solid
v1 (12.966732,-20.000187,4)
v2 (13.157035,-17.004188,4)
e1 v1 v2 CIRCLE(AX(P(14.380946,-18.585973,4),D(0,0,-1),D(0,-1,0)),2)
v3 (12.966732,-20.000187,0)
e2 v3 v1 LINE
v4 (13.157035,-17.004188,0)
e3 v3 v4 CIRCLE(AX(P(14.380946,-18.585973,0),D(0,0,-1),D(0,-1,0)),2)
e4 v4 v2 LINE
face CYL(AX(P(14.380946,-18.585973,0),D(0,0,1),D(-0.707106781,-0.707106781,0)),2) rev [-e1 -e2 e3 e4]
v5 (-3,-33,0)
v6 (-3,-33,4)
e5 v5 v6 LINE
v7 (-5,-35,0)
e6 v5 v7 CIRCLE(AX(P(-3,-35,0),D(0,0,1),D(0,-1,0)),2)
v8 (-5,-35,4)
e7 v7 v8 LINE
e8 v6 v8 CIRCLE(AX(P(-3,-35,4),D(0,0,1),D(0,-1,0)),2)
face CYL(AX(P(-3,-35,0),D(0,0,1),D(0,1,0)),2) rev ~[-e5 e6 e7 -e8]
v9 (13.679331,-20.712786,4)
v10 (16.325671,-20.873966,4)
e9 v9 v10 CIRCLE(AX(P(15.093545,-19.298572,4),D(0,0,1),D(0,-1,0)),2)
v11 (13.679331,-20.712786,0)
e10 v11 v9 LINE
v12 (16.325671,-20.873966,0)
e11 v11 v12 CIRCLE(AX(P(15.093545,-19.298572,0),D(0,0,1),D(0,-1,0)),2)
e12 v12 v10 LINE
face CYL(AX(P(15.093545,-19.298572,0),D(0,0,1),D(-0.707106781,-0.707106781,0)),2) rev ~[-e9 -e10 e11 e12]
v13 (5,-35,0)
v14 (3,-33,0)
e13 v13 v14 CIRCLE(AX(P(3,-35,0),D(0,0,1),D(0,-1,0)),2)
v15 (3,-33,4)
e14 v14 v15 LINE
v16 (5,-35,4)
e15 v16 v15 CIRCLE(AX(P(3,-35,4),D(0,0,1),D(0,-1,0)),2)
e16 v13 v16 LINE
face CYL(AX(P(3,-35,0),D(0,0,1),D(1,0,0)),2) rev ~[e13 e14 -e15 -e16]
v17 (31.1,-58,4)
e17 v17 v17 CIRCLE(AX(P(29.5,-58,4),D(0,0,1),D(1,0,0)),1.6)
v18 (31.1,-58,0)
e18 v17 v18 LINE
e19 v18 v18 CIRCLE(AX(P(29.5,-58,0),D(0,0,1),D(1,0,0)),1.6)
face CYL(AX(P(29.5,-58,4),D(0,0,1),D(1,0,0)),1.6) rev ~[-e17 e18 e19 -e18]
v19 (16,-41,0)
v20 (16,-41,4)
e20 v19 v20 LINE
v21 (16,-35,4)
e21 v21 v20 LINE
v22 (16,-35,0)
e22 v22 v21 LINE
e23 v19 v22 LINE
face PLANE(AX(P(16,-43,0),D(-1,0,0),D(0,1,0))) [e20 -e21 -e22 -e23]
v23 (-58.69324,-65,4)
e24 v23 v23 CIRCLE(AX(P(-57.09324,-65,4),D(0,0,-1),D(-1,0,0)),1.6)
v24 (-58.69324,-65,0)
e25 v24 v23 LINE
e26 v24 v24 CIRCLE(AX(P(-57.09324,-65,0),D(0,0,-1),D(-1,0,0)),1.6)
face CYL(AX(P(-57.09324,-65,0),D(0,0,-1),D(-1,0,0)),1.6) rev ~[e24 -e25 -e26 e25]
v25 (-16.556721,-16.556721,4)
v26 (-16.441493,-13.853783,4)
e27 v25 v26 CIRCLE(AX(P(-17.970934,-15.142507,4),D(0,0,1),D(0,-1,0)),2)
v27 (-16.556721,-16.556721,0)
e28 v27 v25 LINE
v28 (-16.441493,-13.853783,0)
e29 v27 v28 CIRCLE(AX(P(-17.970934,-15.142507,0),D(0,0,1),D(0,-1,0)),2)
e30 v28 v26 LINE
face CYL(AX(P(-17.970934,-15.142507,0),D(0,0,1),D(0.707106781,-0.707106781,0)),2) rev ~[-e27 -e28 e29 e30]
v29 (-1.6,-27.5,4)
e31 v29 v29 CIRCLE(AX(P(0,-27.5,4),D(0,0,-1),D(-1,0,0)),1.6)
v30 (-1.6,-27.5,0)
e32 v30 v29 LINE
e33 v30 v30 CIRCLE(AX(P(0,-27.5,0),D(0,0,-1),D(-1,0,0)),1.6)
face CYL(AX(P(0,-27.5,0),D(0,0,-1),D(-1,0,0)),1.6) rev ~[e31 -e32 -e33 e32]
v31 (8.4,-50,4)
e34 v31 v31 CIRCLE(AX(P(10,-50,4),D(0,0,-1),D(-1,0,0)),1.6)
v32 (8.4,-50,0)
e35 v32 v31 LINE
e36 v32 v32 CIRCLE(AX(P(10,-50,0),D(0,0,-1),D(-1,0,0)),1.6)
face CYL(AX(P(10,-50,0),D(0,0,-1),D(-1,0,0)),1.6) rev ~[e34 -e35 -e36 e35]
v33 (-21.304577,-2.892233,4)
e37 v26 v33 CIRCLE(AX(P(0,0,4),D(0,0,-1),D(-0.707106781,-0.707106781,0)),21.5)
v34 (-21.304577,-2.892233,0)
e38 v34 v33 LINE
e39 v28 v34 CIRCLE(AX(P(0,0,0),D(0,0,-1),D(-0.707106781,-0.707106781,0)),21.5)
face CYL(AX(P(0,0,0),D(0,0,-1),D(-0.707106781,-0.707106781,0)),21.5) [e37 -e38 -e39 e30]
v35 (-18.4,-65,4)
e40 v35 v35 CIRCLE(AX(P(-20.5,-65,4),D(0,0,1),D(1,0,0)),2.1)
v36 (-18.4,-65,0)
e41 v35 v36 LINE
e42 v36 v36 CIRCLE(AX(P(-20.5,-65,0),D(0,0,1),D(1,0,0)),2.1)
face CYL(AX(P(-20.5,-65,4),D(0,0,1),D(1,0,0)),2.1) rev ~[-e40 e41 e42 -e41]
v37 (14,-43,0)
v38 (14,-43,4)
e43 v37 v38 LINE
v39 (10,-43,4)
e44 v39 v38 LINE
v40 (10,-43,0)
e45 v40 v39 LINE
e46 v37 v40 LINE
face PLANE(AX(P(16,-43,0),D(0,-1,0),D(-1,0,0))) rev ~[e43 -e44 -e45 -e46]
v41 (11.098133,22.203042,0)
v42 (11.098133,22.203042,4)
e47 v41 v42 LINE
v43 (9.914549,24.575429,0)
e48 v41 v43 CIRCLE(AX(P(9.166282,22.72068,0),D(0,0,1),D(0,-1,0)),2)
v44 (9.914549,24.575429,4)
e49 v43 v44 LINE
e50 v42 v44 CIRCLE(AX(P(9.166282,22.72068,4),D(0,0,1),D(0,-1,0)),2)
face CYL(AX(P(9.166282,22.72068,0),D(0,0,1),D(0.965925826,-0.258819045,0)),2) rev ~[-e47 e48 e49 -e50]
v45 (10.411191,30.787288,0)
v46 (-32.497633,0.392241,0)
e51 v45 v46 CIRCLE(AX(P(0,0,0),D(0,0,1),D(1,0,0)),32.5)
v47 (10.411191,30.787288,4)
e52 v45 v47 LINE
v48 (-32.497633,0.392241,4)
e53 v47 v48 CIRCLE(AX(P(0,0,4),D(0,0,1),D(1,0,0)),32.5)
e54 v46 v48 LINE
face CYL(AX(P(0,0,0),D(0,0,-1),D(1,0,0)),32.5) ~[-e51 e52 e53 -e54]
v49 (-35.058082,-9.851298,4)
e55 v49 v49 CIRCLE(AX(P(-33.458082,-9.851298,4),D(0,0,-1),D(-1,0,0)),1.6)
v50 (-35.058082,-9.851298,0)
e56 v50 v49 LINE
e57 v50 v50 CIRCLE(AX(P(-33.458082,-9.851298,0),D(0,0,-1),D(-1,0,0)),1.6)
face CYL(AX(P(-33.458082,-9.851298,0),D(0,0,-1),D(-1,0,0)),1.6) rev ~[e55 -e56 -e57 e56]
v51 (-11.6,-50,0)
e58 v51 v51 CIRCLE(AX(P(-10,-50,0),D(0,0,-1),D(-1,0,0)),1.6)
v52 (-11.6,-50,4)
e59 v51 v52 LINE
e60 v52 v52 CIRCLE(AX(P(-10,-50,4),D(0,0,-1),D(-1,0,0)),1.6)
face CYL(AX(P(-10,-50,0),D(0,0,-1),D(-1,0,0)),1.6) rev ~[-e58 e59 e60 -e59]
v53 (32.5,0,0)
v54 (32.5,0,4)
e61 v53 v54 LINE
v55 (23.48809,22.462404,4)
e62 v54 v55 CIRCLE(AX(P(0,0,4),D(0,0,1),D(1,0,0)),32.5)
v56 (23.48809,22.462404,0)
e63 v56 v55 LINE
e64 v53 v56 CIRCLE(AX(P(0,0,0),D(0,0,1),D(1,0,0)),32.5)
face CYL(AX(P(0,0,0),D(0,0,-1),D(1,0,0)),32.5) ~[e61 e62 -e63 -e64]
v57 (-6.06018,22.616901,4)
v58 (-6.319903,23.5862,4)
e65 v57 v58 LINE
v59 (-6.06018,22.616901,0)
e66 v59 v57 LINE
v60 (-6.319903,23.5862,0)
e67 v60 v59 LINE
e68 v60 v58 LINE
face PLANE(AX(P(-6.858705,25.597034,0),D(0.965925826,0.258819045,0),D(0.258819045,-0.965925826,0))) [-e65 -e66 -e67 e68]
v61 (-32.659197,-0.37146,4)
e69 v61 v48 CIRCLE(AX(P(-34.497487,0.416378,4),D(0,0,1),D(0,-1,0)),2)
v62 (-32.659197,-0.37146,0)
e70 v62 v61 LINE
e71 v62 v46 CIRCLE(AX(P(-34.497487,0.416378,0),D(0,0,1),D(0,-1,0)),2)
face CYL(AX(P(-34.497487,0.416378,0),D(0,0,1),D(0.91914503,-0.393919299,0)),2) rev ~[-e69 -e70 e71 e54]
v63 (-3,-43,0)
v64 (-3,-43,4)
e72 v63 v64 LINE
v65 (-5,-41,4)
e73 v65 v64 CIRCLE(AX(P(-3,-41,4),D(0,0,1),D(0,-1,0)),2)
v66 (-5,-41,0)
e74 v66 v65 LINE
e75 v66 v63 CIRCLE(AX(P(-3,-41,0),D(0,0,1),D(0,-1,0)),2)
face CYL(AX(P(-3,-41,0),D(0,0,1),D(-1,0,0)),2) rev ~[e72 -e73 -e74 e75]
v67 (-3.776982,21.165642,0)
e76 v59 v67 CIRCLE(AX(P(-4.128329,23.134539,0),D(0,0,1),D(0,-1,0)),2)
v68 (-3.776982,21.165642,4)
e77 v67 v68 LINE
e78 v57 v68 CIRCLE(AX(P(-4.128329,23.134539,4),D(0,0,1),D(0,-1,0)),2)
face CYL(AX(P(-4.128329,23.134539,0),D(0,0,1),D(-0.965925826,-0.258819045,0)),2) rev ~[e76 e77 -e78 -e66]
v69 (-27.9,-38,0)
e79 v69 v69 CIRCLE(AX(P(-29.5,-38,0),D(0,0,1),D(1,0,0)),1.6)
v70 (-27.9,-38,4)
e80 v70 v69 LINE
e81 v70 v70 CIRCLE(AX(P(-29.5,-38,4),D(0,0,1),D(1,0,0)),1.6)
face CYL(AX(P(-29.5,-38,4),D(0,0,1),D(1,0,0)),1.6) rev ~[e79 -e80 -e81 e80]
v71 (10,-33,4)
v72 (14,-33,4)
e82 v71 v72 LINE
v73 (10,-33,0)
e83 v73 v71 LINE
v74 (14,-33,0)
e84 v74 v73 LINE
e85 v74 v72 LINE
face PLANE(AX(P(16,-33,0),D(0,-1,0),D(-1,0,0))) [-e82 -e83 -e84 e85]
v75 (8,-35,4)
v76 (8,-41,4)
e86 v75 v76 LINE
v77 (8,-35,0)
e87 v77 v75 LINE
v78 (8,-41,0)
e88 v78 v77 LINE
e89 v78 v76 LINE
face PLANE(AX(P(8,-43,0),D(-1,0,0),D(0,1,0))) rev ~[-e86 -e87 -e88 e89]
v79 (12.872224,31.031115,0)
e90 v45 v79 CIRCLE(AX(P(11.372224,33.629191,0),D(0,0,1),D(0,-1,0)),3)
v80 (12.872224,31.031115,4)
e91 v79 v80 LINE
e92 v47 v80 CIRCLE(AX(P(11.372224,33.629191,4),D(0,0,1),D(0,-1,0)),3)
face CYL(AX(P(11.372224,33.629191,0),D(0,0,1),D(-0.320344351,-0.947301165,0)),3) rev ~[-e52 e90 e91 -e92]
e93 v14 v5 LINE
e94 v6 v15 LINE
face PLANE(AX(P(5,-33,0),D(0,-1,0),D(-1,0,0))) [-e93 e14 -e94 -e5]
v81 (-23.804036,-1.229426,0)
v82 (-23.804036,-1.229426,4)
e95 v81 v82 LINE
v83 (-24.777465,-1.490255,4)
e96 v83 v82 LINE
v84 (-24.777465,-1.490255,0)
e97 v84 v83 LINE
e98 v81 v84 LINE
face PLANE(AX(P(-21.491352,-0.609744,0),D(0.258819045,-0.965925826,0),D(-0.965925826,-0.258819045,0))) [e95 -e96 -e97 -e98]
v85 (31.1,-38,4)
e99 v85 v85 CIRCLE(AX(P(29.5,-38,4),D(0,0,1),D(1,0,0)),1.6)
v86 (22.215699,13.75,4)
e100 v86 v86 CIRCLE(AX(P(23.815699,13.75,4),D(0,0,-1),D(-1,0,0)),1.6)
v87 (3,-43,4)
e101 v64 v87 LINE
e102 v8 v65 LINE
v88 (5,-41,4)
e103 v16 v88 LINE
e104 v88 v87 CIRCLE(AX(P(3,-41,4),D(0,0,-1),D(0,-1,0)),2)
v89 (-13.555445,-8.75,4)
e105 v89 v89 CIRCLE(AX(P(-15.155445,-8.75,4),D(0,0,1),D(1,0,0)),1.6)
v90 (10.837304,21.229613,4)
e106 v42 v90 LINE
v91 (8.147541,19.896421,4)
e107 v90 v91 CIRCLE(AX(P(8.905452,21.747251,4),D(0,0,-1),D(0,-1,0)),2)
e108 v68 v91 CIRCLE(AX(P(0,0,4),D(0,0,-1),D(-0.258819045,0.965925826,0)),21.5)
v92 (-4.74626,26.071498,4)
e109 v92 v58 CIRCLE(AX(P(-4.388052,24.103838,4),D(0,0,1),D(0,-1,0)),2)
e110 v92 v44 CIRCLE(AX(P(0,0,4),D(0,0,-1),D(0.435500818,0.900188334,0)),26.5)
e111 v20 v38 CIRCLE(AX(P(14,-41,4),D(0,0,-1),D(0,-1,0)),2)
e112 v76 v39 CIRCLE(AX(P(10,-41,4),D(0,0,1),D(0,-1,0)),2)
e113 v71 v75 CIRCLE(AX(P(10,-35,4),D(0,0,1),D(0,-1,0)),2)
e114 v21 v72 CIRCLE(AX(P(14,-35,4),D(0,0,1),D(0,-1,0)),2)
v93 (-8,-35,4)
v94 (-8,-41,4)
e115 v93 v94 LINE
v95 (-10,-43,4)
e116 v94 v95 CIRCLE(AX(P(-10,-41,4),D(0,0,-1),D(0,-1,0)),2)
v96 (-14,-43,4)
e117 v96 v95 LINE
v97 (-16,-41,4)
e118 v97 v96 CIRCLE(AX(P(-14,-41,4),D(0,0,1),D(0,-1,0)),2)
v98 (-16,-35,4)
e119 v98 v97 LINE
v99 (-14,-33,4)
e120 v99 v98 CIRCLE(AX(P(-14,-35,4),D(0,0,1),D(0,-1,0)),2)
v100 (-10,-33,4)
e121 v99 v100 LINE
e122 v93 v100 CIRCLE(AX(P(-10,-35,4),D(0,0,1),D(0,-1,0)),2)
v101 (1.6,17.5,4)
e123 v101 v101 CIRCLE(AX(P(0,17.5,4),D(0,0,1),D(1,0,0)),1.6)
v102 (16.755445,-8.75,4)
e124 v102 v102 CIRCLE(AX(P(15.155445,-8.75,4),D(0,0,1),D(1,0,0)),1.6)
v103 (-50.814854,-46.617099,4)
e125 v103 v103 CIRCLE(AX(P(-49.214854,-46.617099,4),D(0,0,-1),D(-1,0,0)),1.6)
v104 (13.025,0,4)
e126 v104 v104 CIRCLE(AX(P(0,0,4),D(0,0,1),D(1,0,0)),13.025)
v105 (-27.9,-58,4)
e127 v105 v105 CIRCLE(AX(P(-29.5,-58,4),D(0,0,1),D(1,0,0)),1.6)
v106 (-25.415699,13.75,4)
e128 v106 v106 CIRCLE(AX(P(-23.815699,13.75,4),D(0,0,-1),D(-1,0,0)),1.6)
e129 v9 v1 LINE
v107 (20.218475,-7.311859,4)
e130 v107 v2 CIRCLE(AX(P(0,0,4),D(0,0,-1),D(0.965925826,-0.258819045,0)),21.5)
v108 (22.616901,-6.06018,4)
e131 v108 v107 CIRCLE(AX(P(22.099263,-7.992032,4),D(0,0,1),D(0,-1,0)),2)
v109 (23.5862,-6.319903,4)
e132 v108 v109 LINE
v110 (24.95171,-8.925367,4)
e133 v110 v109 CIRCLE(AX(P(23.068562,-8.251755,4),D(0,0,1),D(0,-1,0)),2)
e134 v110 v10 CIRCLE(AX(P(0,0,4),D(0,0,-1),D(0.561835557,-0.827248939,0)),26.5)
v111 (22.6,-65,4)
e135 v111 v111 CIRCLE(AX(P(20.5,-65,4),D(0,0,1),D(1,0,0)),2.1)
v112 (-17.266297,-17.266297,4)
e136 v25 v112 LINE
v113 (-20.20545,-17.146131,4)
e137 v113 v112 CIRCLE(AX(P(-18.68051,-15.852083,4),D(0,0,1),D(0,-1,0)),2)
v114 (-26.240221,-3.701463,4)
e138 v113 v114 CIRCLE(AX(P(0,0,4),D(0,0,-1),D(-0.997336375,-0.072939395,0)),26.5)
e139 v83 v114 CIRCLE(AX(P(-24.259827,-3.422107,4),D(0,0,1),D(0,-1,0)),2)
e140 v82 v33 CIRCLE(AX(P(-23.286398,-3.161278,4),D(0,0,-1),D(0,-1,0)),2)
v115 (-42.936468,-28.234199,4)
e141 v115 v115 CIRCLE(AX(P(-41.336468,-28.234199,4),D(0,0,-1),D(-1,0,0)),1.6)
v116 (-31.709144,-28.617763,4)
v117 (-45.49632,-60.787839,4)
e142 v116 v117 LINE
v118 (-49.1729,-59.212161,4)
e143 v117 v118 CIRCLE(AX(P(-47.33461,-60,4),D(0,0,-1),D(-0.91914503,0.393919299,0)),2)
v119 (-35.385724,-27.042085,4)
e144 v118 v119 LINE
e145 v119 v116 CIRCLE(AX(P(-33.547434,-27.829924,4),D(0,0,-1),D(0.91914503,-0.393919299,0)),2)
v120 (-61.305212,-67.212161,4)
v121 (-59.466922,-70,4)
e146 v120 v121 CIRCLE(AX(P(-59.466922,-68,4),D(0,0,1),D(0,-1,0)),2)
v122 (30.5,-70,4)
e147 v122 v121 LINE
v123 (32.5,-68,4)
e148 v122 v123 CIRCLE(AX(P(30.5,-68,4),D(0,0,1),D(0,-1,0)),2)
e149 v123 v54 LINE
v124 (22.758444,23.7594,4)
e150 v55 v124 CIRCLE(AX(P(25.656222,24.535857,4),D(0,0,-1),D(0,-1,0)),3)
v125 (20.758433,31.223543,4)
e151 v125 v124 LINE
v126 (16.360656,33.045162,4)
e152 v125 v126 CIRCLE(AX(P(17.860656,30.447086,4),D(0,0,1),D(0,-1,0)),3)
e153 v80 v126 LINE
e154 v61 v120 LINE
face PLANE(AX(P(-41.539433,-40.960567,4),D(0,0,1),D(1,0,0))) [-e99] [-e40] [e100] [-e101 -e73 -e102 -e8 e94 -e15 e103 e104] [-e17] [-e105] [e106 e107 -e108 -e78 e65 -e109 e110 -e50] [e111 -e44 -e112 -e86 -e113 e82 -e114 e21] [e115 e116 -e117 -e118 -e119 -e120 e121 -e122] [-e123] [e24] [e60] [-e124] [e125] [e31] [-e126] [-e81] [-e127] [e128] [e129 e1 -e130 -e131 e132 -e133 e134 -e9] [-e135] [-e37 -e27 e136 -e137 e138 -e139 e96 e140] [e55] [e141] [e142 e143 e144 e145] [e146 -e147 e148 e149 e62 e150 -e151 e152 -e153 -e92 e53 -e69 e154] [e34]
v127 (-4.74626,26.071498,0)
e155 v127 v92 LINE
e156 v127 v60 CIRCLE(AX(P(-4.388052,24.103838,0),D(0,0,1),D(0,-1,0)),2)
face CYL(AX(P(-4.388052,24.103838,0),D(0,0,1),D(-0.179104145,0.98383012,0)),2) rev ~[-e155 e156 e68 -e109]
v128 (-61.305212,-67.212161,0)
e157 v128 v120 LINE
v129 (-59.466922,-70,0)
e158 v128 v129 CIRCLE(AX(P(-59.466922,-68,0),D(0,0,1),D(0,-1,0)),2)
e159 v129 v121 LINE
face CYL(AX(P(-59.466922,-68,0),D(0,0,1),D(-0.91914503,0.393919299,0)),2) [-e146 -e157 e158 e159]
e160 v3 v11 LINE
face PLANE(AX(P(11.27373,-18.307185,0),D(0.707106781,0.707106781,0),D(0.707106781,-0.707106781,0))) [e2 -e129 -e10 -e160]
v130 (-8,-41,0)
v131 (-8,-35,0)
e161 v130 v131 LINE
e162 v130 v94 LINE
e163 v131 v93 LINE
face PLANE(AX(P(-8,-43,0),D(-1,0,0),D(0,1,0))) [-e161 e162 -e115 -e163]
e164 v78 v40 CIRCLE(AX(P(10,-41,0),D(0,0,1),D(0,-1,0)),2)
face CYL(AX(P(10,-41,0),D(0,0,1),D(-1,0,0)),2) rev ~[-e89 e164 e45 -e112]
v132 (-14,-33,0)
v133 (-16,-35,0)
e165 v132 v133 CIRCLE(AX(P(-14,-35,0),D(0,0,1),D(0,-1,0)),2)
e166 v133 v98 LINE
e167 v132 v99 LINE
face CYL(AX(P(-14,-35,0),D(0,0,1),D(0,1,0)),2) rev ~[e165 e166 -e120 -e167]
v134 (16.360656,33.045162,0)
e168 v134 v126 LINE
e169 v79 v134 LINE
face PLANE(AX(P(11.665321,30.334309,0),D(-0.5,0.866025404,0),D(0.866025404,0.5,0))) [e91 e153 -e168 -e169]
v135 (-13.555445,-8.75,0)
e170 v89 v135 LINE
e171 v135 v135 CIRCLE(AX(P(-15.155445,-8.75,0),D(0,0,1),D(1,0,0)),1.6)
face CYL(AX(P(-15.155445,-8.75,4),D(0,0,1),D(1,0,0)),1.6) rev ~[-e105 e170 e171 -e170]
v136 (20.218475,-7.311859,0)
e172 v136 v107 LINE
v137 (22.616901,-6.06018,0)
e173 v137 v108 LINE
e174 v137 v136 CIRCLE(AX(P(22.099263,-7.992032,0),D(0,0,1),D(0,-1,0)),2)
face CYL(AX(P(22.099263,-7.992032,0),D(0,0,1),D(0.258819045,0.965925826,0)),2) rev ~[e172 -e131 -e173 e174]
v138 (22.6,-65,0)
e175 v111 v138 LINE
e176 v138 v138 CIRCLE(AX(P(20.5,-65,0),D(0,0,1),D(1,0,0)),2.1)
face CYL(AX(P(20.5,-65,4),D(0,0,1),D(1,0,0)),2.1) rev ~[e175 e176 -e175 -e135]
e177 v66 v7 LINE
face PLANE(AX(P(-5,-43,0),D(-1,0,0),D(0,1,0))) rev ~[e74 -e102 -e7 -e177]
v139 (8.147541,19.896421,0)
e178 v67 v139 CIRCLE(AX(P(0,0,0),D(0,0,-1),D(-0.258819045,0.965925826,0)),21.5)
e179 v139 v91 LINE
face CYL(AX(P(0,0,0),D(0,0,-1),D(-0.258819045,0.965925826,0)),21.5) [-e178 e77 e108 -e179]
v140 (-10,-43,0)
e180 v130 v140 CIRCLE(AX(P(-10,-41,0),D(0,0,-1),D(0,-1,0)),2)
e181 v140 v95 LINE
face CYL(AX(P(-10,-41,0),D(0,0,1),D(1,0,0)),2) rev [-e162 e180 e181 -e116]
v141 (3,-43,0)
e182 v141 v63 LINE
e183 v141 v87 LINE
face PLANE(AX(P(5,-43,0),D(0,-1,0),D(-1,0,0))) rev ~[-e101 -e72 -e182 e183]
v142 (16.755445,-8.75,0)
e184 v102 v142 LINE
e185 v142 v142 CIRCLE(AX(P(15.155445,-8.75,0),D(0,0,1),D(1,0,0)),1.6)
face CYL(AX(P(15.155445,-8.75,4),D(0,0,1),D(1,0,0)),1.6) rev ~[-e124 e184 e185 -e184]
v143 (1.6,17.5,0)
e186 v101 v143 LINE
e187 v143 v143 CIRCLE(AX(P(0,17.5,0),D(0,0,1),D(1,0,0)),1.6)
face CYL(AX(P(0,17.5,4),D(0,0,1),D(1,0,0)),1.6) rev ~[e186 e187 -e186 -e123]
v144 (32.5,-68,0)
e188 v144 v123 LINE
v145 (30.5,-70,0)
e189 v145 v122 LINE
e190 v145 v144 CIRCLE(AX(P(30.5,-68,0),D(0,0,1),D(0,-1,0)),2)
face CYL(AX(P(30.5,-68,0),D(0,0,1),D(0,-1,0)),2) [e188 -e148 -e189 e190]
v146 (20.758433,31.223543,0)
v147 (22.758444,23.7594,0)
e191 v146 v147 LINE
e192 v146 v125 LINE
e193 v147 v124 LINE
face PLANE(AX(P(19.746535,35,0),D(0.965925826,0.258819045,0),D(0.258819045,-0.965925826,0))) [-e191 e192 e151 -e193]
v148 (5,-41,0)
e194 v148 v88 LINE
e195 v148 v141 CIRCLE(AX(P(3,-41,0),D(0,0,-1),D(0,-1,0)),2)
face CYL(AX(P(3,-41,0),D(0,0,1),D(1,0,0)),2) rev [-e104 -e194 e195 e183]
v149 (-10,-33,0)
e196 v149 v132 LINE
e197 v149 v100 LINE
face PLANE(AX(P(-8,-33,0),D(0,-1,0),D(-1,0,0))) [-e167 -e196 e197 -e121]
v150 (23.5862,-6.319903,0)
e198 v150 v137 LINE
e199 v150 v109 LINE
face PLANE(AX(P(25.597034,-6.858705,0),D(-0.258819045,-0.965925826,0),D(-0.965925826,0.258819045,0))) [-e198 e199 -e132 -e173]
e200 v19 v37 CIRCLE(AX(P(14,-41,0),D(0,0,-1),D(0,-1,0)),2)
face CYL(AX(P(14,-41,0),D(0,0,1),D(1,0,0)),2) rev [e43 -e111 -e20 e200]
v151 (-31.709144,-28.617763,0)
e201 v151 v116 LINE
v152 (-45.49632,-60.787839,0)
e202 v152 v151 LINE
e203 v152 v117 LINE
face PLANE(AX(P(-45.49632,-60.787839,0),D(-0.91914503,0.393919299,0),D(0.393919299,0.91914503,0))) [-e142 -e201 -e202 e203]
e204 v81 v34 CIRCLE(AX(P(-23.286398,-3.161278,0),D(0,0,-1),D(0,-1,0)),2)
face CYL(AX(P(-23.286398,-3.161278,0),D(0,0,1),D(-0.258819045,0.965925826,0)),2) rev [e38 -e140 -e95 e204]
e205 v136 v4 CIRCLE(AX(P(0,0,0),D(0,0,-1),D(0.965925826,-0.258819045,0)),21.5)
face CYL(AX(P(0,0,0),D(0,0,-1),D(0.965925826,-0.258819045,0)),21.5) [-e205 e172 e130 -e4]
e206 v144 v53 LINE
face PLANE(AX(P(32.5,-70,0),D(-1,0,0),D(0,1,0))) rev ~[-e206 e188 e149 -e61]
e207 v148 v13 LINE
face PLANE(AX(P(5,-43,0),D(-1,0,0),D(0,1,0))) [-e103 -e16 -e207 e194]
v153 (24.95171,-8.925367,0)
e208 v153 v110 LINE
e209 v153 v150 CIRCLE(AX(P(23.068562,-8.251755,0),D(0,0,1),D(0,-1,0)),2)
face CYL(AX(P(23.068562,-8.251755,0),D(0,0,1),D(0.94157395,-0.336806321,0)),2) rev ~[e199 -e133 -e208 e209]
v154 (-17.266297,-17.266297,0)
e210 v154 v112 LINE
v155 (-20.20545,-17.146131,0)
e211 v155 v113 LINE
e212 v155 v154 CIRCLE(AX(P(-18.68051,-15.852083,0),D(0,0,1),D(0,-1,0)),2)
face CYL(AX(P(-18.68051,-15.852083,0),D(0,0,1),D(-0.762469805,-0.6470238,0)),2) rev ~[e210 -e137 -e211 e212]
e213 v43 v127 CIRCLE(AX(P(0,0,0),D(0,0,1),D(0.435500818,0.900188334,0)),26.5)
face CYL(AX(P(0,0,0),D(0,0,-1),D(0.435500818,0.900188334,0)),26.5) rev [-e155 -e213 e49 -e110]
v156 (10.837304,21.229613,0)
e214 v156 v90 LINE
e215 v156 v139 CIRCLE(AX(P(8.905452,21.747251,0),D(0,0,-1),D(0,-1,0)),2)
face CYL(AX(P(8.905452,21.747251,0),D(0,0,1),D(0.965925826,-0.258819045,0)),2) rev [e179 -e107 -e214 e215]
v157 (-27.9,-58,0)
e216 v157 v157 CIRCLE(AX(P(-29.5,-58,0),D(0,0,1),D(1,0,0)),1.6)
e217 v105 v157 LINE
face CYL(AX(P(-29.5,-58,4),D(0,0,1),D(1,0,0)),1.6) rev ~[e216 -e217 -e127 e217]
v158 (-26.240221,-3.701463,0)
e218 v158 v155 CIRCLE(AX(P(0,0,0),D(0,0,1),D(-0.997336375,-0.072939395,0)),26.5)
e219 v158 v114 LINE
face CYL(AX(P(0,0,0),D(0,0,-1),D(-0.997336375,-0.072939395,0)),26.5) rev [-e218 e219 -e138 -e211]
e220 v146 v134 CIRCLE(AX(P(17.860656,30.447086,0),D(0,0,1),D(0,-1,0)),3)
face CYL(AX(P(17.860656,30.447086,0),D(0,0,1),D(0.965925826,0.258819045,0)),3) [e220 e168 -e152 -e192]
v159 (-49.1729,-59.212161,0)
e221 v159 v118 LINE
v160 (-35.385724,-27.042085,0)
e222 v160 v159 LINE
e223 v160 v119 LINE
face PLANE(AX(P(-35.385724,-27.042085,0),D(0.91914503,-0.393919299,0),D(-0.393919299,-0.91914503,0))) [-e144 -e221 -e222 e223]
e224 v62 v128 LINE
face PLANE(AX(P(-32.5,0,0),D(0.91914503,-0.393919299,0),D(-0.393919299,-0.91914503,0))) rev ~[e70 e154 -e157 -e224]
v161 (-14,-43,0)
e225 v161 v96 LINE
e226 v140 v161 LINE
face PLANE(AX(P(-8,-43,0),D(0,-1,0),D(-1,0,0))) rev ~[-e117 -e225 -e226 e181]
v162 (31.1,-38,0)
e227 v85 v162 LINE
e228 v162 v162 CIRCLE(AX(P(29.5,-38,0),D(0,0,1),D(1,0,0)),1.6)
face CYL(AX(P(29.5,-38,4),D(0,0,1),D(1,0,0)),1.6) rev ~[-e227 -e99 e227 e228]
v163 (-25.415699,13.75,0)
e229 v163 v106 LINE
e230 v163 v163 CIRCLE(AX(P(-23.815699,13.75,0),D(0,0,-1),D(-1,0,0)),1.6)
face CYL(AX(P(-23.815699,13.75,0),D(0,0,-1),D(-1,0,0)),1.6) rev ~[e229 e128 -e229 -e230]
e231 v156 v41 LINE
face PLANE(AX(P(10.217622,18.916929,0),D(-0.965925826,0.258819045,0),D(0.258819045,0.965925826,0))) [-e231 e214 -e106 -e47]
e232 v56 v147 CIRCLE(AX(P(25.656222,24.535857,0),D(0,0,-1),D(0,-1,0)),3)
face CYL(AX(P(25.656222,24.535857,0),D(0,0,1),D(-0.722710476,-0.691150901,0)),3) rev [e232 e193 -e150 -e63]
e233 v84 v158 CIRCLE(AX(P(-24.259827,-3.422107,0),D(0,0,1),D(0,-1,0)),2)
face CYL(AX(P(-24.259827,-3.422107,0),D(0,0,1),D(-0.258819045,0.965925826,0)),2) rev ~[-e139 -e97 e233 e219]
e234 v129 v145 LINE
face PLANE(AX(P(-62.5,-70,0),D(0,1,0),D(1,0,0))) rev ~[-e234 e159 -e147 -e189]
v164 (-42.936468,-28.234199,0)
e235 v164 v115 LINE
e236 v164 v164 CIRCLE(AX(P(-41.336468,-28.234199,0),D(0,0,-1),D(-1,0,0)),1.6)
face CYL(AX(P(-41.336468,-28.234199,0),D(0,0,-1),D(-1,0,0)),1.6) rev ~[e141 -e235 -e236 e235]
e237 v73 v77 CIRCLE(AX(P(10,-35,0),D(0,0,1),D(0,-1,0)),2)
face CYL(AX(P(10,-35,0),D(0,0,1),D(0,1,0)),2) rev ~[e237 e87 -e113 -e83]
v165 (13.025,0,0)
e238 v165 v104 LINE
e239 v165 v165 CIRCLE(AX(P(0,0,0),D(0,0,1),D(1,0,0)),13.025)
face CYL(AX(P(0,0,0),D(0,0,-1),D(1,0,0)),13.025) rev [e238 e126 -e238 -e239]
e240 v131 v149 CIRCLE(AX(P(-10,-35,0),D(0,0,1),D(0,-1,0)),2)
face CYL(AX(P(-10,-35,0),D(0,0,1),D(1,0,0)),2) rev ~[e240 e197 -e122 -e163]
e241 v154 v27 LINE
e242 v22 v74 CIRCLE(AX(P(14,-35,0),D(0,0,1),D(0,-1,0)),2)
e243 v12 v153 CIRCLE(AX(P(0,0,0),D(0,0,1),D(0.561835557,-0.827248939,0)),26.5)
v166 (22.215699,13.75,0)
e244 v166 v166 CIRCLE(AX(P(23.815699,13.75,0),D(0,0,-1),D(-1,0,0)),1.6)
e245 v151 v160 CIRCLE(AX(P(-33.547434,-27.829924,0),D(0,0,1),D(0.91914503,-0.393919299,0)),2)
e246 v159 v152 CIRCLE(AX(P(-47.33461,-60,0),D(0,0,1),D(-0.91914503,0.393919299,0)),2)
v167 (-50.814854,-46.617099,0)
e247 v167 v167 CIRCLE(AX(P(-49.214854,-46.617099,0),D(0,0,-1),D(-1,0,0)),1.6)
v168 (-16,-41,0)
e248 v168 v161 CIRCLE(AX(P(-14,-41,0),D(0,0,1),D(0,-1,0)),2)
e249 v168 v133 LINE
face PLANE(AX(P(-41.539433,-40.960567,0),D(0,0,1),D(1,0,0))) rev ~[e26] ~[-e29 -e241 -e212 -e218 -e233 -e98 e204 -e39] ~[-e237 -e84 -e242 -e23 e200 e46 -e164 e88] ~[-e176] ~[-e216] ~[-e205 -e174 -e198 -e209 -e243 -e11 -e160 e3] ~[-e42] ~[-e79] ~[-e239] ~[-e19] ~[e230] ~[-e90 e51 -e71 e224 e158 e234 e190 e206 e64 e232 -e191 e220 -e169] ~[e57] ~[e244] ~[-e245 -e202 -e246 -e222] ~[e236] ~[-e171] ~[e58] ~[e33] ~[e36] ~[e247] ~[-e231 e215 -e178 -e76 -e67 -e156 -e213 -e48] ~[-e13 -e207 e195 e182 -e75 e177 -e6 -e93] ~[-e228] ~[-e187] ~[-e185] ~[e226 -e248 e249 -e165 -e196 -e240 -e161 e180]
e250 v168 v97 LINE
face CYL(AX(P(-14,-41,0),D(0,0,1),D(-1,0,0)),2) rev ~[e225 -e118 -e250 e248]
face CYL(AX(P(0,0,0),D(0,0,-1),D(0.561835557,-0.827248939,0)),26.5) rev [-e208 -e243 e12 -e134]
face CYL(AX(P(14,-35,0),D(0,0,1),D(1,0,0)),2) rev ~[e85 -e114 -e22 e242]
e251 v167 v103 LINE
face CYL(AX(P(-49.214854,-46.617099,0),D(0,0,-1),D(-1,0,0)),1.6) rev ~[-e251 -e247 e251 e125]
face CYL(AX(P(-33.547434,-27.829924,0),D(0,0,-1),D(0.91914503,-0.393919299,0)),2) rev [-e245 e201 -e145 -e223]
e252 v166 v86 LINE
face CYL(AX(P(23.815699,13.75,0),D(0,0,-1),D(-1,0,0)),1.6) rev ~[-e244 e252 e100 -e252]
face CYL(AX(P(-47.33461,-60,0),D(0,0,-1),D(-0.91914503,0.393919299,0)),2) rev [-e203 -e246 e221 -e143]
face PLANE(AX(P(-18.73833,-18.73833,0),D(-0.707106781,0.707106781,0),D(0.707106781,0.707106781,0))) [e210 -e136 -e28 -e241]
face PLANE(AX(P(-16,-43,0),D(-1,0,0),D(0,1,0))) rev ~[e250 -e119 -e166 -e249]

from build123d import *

# Parameters (mm, degrees)
SKETCH_1_R          = 32.5
SKETCH_1_R_2        = 13.025
EXTRUDE_1_DEPTH     = 4
EXTRUDE_START       = -4
EXTRUDE_2_DEPTH     = 4
SKETCH_4_R          = 1.6
CUT_EXTRUDE_1_DEPTH = 4
SKETCH_5_R          = 2.1
CUT_EXTRUDE_2_DEPTH = 4
SKETCH_6_R          = 1.6
CUT_EXTRUDE_3_DEPTH = 10
SKETCH_7_W          = 10
SKETCH_7_H          = 10
SKETCH_7_W_2        = 8
CUT_EXTRUDE_4_DEPTH = 10
FILLET_2_R          = 2
SKETCH_8_R          = 1.6
CUT_EXTRUDE_5_DEPTH = 10
EXTRUDE_4_DEPTH     = 4
FILLET_3_R          = 3
EXTRUDE_5_DEPTH     = 4
FILLET_4_R          = 2
CUT_EXTRUDE_6_DEPTH = 17
FILLET_5_R          = 2
SKETCH_14_R         = 1.6
CUT_EXTRUDE_7_DEPTH = 17
SKETCH_15_R         = 1.6
CUT_EXTRUDE_8_DEPTH = 10


with BuildPart() as part:
    # 草图1 → 凸台-拉伸1 (new body)
    with BuildSketch(Plane.XY):
        Circle(SKETCH_1_R)
        Circle(SKETCH_1_R_2, mode=Mode.SUBTRACT)
    extrude(amount=EXTRUDE_1_DEPTH)

    # 草图2 → 凸台-拉伸2 (add)
    with BuildSketch(Plane.XY.offset(4).offset(EXTRUDE_START)):
        with BuildLine():
            Line((-32.5, 0), (-32.5, -70))
            Line((-32.5, -70), (32.5, -70))
            Line((32.5, -70), (32.5, 0))
            ThreePointArc((32.5, 0), (0, -32.5), (-32.5, 0))
        make_face()
    extrude(amount=EXTRUDE_2_DEPTH)

    # 草图4 → 切除-拉伸1 (cut)
    with BuildSketch(Plane.XY.offset(4)):
        with Locations((0, 17.5)):
            Circle(SKETCH_4_R)
        with Locations((15.155444566, -8.75)):
            Circle(SKETCH_4_R)
        with Locations((-15.155444566, -8.75)):
            Circle(SKETCH_4_R)
    extrude(amount=-CUT_EXTRUDE_1_DEPTH, mode=Mode.SUBTRACT)

    # 草图5 → 切除-拉伸2 (cut)
    with BuildSketch(Plane.XY.offset(4)):
        with Locations((-20.5, -65)):
            Circle(SKETCH_5_R)
        with Locations((20.5, -65)):
            Circle(SKETCH_5_R)
    extrude(amount=-CUT_EXTRUDE_2_DEPTH, mode=Mode.SUBTRACT)

    # 草图6 → 切除-拉伸3 (cut)
    with BuildSketch(Plane(origin=(0, 0, 0), x_dir=(-1, 0, 0), z_dir=(0, 0, -1))):
        with Locations((-10, -50)):
            Circle(SKETCH_6_R)
        with Locations((10, -50)):
            Circle(SKETCH_6_R)
    extrude(amount=-CUT_EXTRUDE_3_DEPTH, mode=Mode.SUBTRACT)

    # 草图7 → 切除-拉伸4 (cut)
    with BuildSketch(Plane(origin=(0, 0, 0), x_dir=(-1, 0, 0), z_dir=(0, 0, -1))):
        with Locations((0, -38)):
            Rectangle(SKETCH_7_W, SKETCH_7_H)
        with Locations((12, -38)):
            Rectangle(SKETCH_7_W_2, SKETCH_7_H)
        with Locations((-12, -38)):
            Rectangle(SKETCH_7_W_2, SKETCH_7_H)
    extrude(amount=-CUT_EXTRUDE_4_DEPTH, mode=Mode.SUBTRACT)

    # 圆角2
    fillet_2_edges = [part.edges().sort_by_distance(p)[0] for p in [
        (32.5, -70, 2),
        (-8, -43, 2),
        (-8, -33, 2),
        (-16, -33, 2),
        (-16, -43, 2),
        (16, -43, 2),
        (16, -33, 2),
        (8, -33, 2),
        (8, -43, 2),
        (5, -43, 2),
        (5, -33, 2),
        (-5, -33, 2),
        (-5, -43, 2),
    ]]
    fillet(fillet_2_edges, radius=FILLET_2_R)

    # 草图8 → 切除-拉伸5 (cut)
    with BuildSketch(Plane.XY.offset(4)):
        with Locations((29.5, -58)):
            Circle(SKETCH_8_R)
        with Locations((29.5, -38)):
            Circle(SKETCH_8_R)
        with Locations((-29.5, -38)):
            Circle(SKETCH_8_R)
        with Locations((-29.5, -58)):
            Circle(SKETCH_8_R)
    extrude(amount=-CUT_EXTRUDE_5_DEPTH, mode=Mode.SUBTRACT)

    # 草图9 → 凸台-拉伸4 (add)
    with BuildSketch(Plane.XY.offset(4).offset(EXTRUDE_START)):
        with BuildLine():
            Line((11.665320616, 30.334308875), (19.746534697, 35))
            Line((19.746534697, 35), (22.961925006, 23))
            ThreePointArc((22.961925006, 23), (17.697727439, 27.258768194), (11.665320616, 30.334308875))
        make_face()
    extrude(amount=EXTRUDE_4_DEPTH)

    # 圆角3
    fillet_3_edges = [part.edges().sort_by_distance(p)[0] for p in [
        (22.961925006, 23, 2),
        (11.665320616, 30.334308875, 2),
        (19.746534697, 35, 2),
    ]]
    fillet(fillet_3_edges, radius=FILLET_3_R)

    # 草图11 → 凸台-拉伸5 (add)
    with BuildSketch(Plane(origin=(0, 0, 0), x_dir=(-1, 0, 0), z_dir=(0, 0, -1))):
        Polygon((32.5, 0), (62.5, -70), (32.5, -70), align=None)
    extrude(amount=-EXTRUDE_5_DEPTH)

    # 圆角4
    fillet_4_edges = [part.edges().sort_by_distance(p)[0] for p in [
        (-32.5, 0, 2),
        (-62.5, -70, 2),
    ]]
    fillet(fillet_4_edges, radius=FILLET_4_R)

    # 草图12 → 切除-拉伸6 (cut)
    with BuildSketch(Plane(origin=(0, 0, 0), x_dir=(-1, 0, 0), z_dir=(0, 0, -1))):
        with BuildLine():
            Line((-10.217621979, 18.916928955), (-11.540771679, 23.854990862))
            ThreePointArc((-11.540771679, 23.854990862), (-2.497822398, 26.38201818), (6.858704695, 25.597034397))
            Line((6.858704695, 25.597034397), (5.56460947, 20.767405265))
            ThreePointArc((5.56460947, 20.767405265), (-2.503736607, 21.353718716), (-10.217621979, 18.916928955))
        make_face()
        with BuildLine():
            Line((21.491352026, -0.609744277), (26.429413934, -1.932893978))
            ThreePointArc((26.429413934, -1.932893978), (24.096409146, -11.02783144), (18.738329701, -18.738329701))
            Line((18.738329701, -18.738329701), (15.202795796, -15.202795796))
            ThreePointArc((15.202795796, -15.202795796), (19.744731177, -8.508559852), (21.491352026, -0.609744277))
        make_face()
        with BuildLine():
            Line((-11.273730047, -18.307184678), (-14.888642254, -21.922096885))
            ThreePointArc((-14.888642254, -21.922096885), (-21.598586749, -15.354186741), (-25.597034397, -6.858704695))
            Line((-25.597034397, -6.858704695), (-20.767405265, -5.56460947))
            ThreePointArc((-20.767405265, -5.56460947), (-17.24099457, -12.845158864), (-11.273730047, -18.307184678))
        make_face()
    extrude(amount=-CUT_EXTRUDE_6_DEPTH, mode=Mode.SUBTRACT)

    # 圆角5
    fillet_5_edges = [part.edges().sort_by_distance(p)[0] for p in [
        (-15.202795796, -15.202795796, 2),
        (-21.491352026, -0.609744277, 2),
        (-26.429413934, -1.932893978, 2),
        (-18.738329701, -18.738329701, 2),
        (-5.56460947, 20.767405265, 2),
        (10.217621979, 18.916928955, 2),
        (11.540771679, 23.854990862, 2),
        (-6.858704695, 25.597034397, 2),
        (20.767405265, -5.56460947, 2),
        (11.273730047, -18.307184678, 2),
        (14.888642254, -21.922096885, 2),
        (25.597034397, -6.858704695, 2),
    ]]
    fillet(fillet_5_edges, radius=FILLET_5_R)

    # 草图14 → 切除-拉伸7 (cut)
    with BuildSketch(Plane(origin=(0, 0, 0), x_dir=(-1, 0, 0), z_dir=(0, 0, -1))):
        with Locations((33.458082183, -9.851298199)):
            Circle(SKETCH_14_R)
        with Locations((41.336468154, -28.234198799)):
            Circle(SKETCH_14_R)
        with Locations((49.214854126, -46.6170994)):
            Circle(SKETCH_14_R)
        with Locations((57.093240097, -65)):
            Circle(SKETCH_14_R)
        with BuildLine():
            Line((35.385724459, -27.042085352), (49.172899909, -59.212161403))
            ThreePointArc((49.172899909, -59.212161403), (48.122448446, -61.83829006), (45.496319789, -60.787838597))
            Line((45.496319789, -60.787838597), (31.709144338, -28.617762547))
            ThreePointArc((31.709144338, -28.617762547), (32.759595801, -25.991633889), (35.385724459, -27.042085352))
        make_face()
    extrude(amount=-CUT_EXTRUDE_7_DEPTH, mode=Mode.SUBTRACT)

    # 草图15 → 切除-拉伸8 (cut)
    with BuildSketch(Plane(origin=(0, 0, 0), x_dir=(-1, 0, 0), z_dir=(0, 0, -1))):
        with Locations((0, -27.5)):
            Circle(SKETCH_15_R)
        with Locations((-23.815698604, 13.75)):
            Circle(SKETCH_15_R)
        with Locations((23.815698604, 13.75)):
            Circle(SKETCH_15_R)
    extrude(amount=-CUT_EXTRUDE_8_DEPTH, mode=Mode.SUBTRACT)


solid = part.part
